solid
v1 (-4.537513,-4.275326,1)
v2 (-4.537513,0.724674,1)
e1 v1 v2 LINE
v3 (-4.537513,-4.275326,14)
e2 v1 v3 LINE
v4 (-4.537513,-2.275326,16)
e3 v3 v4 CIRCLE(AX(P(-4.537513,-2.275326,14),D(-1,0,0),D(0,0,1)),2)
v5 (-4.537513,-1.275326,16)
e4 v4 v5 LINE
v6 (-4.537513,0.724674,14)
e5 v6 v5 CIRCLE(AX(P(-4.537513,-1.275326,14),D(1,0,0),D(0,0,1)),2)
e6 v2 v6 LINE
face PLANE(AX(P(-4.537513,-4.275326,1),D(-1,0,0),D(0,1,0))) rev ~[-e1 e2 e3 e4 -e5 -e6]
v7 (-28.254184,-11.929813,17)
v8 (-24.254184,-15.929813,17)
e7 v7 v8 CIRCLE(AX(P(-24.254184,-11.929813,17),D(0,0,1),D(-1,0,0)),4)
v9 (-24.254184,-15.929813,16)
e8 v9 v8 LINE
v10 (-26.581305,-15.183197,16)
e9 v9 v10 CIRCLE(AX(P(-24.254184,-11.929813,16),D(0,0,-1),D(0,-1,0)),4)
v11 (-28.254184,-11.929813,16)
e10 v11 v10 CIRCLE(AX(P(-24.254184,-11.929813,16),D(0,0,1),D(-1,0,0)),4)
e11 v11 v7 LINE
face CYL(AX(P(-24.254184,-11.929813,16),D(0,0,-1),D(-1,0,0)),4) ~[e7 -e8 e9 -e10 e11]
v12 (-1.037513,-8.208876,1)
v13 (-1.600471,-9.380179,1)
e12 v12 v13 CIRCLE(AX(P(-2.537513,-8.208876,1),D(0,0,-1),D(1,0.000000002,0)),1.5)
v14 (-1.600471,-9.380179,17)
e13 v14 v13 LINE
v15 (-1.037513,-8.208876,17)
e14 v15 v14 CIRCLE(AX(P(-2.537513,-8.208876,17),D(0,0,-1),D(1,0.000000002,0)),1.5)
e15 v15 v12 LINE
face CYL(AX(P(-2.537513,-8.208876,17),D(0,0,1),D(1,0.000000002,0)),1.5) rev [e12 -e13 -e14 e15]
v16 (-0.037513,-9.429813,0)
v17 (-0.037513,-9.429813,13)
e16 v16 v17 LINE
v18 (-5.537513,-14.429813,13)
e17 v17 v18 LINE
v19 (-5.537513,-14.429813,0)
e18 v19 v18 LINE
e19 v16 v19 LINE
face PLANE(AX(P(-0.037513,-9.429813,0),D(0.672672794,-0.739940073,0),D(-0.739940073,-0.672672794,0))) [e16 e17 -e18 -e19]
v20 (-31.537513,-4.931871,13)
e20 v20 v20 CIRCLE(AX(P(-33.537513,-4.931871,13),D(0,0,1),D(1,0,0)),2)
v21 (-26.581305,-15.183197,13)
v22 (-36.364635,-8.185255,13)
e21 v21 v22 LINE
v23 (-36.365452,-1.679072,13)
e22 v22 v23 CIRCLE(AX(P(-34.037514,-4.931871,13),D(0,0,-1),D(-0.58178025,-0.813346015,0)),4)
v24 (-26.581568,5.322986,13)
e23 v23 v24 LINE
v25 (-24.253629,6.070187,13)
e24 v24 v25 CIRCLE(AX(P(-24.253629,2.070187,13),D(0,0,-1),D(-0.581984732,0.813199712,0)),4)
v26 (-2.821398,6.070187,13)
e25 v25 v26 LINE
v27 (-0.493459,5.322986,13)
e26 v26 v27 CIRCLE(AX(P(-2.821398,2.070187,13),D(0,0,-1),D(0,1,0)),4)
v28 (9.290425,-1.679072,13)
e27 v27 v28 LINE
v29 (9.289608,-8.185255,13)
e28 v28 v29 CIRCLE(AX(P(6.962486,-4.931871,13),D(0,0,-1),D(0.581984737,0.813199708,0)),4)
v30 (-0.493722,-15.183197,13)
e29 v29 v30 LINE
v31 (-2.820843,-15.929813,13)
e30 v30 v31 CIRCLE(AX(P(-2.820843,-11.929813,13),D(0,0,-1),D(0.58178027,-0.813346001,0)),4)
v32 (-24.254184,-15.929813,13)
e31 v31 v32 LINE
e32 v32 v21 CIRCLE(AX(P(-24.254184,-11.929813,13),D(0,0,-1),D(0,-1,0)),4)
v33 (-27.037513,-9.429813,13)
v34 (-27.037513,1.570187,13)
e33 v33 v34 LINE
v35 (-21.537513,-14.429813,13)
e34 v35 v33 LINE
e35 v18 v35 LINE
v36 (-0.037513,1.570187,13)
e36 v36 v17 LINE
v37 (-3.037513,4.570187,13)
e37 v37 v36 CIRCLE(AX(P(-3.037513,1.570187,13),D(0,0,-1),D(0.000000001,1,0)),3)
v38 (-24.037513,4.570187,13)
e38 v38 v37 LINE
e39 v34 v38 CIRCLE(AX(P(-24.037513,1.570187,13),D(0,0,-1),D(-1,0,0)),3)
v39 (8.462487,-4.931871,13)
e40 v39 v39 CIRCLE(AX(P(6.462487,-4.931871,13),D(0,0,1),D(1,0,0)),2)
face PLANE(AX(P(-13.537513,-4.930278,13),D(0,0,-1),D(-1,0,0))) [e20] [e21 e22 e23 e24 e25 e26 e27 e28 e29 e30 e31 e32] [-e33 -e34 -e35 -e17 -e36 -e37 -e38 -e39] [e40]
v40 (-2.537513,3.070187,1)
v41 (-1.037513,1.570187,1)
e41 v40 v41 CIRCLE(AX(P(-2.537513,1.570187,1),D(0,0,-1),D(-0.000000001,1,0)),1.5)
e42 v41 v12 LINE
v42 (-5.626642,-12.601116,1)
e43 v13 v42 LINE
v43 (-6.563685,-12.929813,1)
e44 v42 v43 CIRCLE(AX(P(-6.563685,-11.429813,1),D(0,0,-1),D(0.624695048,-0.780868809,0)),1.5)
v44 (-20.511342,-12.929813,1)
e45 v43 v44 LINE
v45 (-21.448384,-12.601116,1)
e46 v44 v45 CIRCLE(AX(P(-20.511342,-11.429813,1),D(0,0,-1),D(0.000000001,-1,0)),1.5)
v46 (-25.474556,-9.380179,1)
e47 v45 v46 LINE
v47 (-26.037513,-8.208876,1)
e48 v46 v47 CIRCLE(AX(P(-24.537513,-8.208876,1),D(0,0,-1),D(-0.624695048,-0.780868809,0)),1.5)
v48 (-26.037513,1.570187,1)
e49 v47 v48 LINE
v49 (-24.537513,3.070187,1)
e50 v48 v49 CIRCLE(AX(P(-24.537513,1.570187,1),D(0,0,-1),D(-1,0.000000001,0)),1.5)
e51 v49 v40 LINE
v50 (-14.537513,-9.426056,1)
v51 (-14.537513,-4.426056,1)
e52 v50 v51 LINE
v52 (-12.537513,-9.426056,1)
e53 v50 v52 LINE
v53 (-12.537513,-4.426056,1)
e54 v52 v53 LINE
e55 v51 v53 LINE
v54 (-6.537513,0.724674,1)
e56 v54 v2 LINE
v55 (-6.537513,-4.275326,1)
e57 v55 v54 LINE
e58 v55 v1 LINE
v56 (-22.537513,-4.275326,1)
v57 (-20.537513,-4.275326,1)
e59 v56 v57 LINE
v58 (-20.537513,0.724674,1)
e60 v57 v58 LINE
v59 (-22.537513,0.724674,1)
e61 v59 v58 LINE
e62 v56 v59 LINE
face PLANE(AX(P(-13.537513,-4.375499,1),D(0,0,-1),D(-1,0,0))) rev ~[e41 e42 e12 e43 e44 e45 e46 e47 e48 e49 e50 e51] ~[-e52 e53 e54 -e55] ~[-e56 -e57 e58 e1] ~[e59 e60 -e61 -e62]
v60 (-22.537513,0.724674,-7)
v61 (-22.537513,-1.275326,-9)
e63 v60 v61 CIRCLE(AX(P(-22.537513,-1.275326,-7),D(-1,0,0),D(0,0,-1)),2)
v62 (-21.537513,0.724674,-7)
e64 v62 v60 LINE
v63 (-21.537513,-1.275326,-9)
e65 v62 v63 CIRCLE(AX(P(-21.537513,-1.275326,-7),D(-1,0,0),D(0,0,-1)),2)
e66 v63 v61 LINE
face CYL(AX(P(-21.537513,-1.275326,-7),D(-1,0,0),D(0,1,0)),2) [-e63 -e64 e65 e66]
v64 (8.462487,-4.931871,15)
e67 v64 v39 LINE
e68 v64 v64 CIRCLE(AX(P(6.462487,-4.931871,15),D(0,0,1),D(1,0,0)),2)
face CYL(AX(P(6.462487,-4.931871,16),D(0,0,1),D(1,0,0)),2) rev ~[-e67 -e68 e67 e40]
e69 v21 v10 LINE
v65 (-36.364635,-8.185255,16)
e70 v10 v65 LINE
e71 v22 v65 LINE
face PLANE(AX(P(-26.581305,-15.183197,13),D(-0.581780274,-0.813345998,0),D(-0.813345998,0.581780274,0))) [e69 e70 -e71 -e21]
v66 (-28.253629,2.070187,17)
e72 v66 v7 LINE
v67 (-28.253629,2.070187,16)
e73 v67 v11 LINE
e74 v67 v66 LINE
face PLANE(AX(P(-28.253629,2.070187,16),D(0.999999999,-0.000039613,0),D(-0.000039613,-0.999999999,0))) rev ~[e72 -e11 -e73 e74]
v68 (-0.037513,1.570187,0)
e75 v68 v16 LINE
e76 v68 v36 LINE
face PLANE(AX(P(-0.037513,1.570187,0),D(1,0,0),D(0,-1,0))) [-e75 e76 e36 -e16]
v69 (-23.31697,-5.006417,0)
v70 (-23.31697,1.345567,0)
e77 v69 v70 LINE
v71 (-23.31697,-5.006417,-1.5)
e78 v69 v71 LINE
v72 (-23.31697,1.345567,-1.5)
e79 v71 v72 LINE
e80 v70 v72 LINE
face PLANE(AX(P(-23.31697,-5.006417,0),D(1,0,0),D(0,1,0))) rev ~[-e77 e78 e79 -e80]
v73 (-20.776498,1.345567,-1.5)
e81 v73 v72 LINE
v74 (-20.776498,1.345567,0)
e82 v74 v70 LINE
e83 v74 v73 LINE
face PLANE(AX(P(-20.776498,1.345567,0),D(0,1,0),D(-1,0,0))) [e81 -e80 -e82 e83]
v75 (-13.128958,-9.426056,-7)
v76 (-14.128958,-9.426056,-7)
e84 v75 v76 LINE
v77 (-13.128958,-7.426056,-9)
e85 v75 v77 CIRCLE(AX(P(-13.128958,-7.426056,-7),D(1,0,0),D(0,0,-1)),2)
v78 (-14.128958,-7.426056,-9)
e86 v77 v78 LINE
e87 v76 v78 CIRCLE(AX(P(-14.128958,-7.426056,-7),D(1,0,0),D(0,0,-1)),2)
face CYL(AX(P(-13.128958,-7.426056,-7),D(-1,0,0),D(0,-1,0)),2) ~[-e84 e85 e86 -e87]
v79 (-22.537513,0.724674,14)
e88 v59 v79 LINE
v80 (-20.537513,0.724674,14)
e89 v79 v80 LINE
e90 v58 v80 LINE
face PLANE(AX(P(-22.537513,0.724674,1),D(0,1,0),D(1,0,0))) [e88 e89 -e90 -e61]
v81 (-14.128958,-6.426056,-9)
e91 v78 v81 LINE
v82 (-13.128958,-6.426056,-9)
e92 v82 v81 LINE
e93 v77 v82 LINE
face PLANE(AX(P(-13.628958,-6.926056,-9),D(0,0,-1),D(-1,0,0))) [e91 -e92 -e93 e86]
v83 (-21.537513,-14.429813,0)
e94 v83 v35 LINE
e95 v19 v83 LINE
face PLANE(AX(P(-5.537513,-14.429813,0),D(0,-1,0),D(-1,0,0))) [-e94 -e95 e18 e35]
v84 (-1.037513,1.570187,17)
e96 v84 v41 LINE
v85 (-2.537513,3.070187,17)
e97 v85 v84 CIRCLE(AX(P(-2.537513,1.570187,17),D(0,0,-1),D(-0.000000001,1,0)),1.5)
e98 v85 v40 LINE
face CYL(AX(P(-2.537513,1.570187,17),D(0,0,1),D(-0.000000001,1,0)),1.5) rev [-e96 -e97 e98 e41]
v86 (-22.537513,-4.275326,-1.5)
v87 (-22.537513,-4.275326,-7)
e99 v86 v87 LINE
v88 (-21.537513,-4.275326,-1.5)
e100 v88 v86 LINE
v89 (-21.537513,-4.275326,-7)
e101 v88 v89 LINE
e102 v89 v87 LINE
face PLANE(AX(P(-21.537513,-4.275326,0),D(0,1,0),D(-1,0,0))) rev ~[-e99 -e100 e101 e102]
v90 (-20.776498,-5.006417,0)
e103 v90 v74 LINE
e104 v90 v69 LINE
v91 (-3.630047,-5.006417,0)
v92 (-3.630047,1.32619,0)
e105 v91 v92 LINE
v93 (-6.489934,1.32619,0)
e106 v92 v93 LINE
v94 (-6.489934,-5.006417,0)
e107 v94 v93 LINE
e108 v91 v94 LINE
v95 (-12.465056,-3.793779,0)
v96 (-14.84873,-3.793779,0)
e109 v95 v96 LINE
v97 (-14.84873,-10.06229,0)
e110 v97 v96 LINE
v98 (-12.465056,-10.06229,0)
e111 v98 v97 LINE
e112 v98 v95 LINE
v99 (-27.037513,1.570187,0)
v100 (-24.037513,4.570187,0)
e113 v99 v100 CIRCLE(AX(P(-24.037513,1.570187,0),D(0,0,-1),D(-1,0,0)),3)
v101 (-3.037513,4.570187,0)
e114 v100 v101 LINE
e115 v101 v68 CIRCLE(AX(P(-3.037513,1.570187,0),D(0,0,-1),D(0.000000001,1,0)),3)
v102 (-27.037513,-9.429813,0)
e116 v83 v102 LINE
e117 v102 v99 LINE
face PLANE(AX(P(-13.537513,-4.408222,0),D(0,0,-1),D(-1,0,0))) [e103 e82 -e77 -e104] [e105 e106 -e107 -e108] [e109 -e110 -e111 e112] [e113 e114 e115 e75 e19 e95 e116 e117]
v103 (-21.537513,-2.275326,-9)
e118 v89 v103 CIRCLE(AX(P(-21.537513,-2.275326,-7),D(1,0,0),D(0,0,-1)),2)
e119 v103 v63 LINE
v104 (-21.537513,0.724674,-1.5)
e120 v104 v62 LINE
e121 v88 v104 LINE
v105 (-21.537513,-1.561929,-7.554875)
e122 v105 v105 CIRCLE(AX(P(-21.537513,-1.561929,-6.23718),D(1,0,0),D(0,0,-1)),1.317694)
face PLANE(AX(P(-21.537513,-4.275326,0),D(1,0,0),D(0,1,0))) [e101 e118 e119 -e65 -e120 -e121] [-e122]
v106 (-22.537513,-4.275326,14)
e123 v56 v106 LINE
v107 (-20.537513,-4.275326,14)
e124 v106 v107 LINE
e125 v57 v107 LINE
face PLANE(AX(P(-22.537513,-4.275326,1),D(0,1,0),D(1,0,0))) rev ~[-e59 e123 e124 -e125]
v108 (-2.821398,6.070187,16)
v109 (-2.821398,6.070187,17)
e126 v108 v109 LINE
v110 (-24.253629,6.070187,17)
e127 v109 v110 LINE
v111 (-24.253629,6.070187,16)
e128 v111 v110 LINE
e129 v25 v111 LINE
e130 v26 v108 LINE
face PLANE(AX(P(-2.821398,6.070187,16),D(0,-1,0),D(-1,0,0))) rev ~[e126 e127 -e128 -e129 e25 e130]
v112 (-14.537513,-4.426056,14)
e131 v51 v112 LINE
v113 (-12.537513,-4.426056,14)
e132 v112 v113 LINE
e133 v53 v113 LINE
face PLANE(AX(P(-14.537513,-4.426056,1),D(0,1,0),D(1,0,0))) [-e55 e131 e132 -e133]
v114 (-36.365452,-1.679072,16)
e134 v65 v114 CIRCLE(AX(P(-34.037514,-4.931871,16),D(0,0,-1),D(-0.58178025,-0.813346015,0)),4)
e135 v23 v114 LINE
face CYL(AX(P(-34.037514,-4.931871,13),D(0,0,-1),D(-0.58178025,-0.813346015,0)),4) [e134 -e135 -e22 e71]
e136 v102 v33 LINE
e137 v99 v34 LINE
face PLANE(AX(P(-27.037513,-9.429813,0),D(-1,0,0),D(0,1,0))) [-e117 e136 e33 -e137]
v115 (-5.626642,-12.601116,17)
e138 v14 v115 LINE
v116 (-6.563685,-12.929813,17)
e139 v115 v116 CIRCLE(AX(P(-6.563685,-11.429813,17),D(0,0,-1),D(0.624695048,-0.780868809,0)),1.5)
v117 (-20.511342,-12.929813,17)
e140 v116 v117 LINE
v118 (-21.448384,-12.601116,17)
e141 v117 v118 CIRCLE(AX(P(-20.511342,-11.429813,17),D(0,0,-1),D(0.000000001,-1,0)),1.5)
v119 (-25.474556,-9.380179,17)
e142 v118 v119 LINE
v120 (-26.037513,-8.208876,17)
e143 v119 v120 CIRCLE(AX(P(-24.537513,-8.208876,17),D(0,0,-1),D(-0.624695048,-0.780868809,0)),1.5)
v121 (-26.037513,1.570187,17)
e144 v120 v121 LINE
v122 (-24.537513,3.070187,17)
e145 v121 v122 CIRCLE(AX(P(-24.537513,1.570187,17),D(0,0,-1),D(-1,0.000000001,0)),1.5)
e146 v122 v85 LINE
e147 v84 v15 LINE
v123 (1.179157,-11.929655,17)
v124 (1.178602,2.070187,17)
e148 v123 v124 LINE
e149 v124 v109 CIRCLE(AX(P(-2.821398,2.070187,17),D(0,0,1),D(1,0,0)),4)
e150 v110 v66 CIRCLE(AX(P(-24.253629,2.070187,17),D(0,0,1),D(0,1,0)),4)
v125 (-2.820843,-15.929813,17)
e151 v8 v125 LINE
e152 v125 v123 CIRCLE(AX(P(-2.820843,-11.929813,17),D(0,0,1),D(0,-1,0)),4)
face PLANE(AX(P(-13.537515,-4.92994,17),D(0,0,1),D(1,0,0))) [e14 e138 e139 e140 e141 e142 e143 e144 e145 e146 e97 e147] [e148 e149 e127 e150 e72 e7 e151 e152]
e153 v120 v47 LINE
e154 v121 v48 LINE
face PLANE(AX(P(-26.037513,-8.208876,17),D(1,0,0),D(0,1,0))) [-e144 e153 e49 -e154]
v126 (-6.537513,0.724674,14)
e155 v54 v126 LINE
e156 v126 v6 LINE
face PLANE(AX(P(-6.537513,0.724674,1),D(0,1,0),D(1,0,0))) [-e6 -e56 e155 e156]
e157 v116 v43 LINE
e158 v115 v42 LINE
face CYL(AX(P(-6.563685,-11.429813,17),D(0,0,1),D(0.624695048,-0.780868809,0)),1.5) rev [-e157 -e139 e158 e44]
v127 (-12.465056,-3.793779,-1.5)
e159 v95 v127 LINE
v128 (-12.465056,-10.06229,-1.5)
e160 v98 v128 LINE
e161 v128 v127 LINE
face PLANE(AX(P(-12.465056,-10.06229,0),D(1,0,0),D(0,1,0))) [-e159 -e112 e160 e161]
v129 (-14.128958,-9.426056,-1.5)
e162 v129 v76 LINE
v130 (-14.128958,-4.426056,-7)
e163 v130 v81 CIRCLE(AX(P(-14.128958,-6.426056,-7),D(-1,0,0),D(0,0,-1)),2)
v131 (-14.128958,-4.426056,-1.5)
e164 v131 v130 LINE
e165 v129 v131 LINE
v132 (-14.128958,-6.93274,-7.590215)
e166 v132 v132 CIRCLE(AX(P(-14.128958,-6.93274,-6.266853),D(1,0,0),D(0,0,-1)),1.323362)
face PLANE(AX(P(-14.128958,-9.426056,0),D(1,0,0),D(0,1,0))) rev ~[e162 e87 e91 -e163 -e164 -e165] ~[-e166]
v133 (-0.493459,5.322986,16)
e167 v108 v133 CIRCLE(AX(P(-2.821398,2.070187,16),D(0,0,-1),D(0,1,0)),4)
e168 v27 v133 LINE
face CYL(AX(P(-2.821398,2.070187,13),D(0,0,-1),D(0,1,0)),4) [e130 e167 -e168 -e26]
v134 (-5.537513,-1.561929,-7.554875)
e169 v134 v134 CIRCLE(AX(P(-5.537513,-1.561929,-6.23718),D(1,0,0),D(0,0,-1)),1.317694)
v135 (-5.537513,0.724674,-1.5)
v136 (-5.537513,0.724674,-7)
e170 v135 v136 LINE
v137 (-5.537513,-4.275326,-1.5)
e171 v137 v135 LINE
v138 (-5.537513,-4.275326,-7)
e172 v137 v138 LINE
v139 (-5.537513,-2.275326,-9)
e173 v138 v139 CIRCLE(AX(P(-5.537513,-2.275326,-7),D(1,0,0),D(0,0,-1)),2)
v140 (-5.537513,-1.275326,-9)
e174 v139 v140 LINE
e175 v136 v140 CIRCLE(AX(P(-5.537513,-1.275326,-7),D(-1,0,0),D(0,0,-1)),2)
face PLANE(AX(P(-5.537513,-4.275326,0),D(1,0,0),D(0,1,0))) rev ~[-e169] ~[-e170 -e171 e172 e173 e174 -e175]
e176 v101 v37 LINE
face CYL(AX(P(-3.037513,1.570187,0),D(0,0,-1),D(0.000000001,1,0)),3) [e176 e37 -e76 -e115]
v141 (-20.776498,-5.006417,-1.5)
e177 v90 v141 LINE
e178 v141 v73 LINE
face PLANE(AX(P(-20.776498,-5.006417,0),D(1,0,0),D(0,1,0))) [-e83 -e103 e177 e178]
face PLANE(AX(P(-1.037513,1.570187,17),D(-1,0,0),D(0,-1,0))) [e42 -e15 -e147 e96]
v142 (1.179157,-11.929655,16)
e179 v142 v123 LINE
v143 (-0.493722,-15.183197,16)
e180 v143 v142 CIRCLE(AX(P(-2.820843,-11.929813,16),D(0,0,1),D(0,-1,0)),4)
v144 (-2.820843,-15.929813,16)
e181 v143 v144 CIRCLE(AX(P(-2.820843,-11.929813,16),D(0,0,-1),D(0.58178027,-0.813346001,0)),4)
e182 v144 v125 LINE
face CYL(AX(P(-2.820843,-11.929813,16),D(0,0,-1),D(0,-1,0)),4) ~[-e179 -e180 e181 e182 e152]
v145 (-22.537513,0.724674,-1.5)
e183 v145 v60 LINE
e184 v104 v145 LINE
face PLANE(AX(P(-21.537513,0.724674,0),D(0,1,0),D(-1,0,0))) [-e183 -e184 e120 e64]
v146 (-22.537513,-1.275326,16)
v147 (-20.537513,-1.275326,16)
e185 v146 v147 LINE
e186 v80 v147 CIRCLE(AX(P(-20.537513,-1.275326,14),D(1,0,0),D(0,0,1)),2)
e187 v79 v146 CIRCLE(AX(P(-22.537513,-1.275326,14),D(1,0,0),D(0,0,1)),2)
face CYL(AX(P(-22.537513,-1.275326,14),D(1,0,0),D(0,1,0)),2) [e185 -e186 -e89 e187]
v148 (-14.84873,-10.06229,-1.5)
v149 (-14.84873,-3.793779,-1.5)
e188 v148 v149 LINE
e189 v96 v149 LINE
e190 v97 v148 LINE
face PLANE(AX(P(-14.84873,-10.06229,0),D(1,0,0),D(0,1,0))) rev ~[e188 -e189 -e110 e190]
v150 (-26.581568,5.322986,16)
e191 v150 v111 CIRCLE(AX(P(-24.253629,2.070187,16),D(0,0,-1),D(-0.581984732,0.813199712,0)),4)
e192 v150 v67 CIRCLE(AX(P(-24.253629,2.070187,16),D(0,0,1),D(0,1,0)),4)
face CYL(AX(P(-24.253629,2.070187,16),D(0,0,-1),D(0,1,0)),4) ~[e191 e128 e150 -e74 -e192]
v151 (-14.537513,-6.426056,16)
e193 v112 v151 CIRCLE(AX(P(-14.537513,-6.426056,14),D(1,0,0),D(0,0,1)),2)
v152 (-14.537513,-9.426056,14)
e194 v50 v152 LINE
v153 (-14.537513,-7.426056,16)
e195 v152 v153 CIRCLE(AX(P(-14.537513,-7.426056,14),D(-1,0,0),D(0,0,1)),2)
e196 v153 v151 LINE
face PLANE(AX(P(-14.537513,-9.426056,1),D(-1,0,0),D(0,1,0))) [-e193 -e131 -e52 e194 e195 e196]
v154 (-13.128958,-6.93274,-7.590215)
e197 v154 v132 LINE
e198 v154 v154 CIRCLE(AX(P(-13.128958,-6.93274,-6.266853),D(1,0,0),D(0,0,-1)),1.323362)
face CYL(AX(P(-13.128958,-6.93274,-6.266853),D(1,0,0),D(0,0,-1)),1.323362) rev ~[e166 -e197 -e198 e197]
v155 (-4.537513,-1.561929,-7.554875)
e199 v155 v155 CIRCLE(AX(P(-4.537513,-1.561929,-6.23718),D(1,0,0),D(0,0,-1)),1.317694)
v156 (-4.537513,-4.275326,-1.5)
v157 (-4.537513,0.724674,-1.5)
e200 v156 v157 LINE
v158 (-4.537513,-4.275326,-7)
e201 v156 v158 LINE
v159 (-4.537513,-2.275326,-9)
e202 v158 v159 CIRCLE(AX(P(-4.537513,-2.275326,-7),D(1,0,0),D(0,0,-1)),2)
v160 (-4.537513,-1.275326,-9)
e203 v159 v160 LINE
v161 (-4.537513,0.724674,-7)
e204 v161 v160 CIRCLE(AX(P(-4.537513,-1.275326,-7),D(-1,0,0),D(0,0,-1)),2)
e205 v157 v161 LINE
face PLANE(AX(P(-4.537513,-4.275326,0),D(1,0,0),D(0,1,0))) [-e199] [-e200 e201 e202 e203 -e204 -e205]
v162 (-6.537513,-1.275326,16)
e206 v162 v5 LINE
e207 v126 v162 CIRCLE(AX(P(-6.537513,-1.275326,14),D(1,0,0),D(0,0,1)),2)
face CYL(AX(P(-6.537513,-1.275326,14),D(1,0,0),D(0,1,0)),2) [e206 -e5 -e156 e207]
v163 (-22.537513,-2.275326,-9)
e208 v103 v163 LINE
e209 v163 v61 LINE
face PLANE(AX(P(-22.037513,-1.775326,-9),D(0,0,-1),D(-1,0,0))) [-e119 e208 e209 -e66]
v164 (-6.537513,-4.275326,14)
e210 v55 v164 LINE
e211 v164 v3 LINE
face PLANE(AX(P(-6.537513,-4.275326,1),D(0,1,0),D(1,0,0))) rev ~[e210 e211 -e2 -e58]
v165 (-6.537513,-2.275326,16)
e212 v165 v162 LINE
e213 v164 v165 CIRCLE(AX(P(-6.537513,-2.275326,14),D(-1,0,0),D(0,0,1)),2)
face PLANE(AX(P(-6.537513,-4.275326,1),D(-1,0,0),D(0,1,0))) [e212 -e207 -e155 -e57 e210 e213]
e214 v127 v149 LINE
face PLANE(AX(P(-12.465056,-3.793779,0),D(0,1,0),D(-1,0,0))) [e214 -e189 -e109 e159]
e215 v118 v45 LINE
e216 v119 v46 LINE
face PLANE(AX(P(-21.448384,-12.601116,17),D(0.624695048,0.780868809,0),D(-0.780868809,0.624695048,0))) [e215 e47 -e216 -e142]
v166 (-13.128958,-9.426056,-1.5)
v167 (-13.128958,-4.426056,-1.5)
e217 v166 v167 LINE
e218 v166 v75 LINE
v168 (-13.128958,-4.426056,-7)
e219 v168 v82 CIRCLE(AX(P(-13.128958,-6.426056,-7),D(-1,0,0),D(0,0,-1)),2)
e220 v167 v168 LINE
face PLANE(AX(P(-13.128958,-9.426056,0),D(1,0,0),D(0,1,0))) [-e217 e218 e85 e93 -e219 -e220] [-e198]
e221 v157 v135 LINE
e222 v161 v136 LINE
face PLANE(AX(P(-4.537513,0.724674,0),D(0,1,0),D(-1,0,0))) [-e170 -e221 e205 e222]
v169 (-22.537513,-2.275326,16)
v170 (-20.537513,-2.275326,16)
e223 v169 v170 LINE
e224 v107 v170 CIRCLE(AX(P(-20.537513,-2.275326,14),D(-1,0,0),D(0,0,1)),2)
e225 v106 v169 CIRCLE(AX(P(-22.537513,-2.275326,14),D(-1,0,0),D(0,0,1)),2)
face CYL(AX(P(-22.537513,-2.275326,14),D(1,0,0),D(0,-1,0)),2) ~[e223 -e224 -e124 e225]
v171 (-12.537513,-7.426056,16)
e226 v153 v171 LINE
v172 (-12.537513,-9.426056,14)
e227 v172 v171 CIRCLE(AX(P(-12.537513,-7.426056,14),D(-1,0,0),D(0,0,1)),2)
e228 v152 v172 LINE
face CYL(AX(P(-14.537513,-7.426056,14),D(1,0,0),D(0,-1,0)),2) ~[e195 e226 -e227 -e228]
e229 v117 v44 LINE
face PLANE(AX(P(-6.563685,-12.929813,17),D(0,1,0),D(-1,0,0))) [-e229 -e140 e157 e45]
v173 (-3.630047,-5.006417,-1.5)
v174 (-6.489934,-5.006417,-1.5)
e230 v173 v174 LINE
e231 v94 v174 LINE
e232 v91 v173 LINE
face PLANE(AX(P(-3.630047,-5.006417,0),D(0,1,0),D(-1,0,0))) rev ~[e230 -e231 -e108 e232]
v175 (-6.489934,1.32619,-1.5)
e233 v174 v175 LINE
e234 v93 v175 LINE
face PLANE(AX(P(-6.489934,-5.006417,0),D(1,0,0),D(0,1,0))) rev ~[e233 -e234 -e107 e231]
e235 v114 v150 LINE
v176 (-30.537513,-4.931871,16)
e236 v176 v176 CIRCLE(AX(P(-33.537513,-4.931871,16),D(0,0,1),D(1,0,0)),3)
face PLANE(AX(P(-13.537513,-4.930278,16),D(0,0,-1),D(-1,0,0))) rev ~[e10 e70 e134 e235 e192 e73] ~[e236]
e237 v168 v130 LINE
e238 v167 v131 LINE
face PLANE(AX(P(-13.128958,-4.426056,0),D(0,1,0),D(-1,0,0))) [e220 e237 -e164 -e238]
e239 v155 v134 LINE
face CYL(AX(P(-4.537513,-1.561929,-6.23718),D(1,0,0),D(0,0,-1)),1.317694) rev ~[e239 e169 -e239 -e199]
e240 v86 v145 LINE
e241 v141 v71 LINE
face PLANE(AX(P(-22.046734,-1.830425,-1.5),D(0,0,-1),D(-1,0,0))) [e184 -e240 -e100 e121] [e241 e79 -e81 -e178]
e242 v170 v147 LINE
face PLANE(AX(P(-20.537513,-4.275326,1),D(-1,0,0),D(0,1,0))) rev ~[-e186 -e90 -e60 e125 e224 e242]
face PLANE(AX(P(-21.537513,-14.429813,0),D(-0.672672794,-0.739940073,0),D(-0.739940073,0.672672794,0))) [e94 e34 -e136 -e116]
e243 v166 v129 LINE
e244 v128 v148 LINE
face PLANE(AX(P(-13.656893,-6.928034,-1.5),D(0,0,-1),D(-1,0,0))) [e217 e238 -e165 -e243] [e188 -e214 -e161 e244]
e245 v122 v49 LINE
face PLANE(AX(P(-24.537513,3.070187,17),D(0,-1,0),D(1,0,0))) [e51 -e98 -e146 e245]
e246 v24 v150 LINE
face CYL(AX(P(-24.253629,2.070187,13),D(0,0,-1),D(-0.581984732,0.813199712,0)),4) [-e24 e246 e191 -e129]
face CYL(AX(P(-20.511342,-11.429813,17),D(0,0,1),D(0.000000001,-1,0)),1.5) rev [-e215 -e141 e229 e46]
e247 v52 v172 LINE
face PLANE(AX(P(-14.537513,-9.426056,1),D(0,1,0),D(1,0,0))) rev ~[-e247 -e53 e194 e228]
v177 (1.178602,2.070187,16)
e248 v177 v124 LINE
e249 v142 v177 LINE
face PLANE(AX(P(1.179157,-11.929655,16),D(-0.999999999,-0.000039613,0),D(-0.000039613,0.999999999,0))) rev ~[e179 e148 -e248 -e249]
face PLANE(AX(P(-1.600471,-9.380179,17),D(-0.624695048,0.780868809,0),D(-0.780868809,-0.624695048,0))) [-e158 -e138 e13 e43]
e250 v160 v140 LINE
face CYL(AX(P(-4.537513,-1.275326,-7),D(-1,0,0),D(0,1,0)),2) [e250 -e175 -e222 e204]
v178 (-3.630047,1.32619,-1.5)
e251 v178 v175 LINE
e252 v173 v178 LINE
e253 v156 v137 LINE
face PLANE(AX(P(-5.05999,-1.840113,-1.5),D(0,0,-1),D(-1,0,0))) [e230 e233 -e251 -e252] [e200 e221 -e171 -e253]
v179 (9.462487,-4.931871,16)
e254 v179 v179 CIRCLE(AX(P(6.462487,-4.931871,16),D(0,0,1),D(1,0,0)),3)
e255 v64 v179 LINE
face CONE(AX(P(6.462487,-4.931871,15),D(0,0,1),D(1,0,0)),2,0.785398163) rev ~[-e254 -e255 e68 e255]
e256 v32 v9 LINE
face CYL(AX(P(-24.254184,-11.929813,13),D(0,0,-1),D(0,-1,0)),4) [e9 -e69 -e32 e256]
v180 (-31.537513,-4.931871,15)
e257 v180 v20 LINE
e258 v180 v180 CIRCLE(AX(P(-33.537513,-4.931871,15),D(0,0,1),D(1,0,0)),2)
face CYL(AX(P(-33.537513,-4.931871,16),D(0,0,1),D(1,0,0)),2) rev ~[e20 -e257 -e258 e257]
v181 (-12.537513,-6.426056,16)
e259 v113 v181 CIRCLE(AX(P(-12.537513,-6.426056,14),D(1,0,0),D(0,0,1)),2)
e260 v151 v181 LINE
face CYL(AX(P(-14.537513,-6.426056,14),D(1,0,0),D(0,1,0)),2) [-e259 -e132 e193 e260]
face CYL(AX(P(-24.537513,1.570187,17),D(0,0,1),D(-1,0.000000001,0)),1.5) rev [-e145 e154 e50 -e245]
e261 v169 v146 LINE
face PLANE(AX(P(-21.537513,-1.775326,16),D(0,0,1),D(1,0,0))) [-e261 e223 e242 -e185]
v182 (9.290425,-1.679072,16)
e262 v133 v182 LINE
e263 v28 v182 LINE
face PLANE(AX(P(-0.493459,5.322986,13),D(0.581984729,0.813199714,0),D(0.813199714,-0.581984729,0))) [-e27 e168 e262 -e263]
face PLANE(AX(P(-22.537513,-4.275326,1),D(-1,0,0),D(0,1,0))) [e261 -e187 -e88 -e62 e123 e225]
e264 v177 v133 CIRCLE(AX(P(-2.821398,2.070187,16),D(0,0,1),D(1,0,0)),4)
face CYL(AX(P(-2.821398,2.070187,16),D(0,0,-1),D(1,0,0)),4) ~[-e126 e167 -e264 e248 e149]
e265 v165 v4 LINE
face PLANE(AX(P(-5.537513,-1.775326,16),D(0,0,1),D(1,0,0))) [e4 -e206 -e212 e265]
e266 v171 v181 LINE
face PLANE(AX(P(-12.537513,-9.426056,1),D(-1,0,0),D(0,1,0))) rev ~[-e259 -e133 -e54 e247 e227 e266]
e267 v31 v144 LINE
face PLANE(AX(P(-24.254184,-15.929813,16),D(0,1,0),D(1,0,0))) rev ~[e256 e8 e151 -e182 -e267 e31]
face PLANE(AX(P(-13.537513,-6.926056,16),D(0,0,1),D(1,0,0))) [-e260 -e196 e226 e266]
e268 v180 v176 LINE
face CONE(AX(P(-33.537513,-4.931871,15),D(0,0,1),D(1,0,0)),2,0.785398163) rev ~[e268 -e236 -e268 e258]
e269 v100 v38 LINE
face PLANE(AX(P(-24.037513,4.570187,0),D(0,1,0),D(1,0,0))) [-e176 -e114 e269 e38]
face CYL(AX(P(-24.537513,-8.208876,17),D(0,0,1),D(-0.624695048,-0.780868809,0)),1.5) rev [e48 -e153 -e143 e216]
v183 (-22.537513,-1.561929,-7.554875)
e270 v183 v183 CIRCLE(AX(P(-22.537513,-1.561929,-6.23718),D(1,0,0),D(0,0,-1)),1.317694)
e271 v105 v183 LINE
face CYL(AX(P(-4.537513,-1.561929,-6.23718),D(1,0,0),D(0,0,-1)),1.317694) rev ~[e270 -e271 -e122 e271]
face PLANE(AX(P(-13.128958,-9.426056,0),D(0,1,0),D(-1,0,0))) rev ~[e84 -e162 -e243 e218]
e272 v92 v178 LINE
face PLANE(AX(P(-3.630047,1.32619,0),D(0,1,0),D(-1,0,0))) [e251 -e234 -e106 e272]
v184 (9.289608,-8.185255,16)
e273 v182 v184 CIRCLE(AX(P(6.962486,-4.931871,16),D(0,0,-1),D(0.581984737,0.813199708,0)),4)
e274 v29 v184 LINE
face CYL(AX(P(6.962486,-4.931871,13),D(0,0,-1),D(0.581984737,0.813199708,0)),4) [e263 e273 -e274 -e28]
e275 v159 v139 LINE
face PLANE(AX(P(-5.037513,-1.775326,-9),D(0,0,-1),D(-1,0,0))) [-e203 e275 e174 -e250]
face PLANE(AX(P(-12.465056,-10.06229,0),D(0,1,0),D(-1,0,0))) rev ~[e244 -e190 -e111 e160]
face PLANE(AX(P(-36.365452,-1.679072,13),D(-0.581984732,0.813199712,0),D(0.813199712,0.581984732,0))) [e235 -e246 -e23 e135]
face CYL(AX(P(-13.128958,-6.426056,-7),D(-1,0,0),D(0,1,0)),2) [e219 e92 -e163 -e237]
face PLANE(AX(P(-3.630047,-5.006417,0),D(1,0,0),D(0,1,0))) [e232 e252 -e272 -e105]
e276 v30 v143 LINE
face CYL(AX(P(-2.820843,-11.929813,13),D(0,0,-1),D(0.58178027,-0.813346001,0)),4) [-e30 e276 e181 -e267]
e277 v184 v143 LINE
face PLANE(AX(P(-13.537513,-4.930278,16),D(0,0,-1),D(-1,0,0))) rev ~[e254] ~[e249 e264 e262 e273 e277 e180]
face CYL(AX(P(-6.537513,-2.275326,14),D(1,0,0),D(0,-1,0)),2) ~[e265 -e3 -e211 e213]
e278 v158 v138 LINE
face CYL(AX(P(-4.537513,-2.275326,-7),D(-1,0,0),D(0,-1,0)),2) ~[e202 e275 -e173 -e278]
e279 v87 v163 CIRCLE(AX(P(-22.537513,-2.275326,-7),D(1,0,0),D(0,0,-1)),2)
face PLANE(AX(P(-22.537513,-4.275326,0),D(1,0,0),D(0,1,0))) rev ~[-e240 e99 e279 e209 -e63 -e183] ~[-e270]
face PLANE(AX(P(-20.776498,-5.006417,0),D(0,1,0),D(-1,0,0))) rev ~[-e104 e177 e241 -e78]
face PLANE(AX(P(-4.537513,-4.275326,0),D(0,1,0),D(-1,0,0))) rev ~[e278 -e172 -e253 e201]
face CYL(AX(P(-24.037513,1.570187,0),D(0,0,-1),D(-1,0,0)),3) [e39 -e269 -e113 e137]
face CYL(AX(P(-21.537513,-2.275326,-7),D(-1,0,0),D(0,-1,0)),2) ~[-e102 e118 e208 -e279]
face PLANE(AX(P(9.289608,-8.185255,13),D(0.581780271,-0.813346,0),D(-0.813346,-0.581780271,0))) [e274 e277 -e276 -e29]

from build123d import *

# Parameters (mm, degrees)
EXTRUDE_1_DEPTH     = 13
EXTRUDE_2_DEPTH     = 3
EXTRUDE_3_DEPTH     = 1
CUT_EXTRUDE_1_DEPTH = 16
SKETCH_5_W          = 2
SKETCH_5_H          = 5
EXTRUDE_4_DEPTH     = 15
FILLET_1_R          = 2
SKETCH_6_W          = 1.000000004
SKETCH_6_H          = 5
SKETCH_6_W_2        = 0.999999996
SKETCH_6_W_3        = 1
EXTRUDE_5_DEPTH     = 9
SKETCH_7_W          = 2.859887346
SKETCH_7_H          = 6.332607693
SKETCH_7_W_2        = 2.383674024
SKETCH_7_H_2        = 6.268510199
SKETCH_7_W_3        = 2.540472095
SKETCH_7_H_3        = 6.351983774
EXTRUDE_7_DEPTH     = 1.5
SKETCH_8_R          = 1.317694444
CUT_EXTRUDE_2_DEPTH = 21.5
SKETCH_9_R          = 1.323361973
CUT_EXTRUDE_3_DEPTH = 3.5
FILLET_2_R          = 2
SKETCH_10_R         = 2
CUT_EXTRUDE_4_DEPTH = 3.5
SKETCH_11_R         = 2
CUT_EXTRUDE_5_DEPTH = 3.5
CHAMFER_1_SIZE      = 1


with BuildPart() as part:
    # Эскиз1 → Бобышка-Вытянуть1 (new body)
    with BuildSketch(Plane.XY):
        with BuildLine():
            Line((-24.03751348, 4.570186882), (-3.03751348, 4.570186882))
            ThreePointArc((-3.03751348, 4.570186882), (-0.916193137, 3.691507225), (-0.03751348, 1.570186882))
            Line((-0.03751348, 1.570186882), (-0.03751348, -9.429813118))
            Line((-0.03751348, -9.429813118), (-5.53751348, -14.429813118))
            Line((-5.53751348, -14.429813118), (-21.53751348, -14.429813118))
            Line((-21.53751348, -14.429813118), (-27.03751348, -9.429813118))
            Line((-27.03751348, -9.429813118), (-27.03751348, 1.570186882))
            ThreePointArc((-27.03751348, 1.570186882), (-26.158833824, 3.691507225), (-24.03751348, 4.570186882))
        make_face()
    extrude(amount=EXTRUDE_1_DEPTH)

    # Эскиз2 → Бобышка-Вытянуть2 (add)
    with BuildSketch(Plane.XY.offset(13)):
        with BuildLine():
            Line((-24.253629022, 6.070186882), (-2.821397929, 6.070186882))
            ThreePointArc((-2.821397929, 6.070186882), (-1.598940451, 5.87880838), (-0.493459013, 5.322985739))
            Line((-0.493459013, 5.322985739), (9.290425441, -1.679071989))
            ThreePointArc((9.290425441, -1.679071989), (10.962486488, -4.932373697), (9.289607579, -8.185254927))
            Line((9.289607579, -8.185254927), (-0.493722264, -15.183197119))
            ThreePointArc((-0.493722264, -15.183197119), (-1.598864627, -15.738588249), (-2.820843349, -15.929813118))
            Line((-2.820843349, -15.929813118), (-24.254183602, -15.929813118))
            ThreePointArc((-24.254183602, -15.929813118), (-25.476162332, -15.738588247), (-26.5813047, -15.183197109))
            Line((-26.5813047, -15.183197109), (-36.364634505, -8.185254887))
            ThreePointArc((-36.364634505, -8.185254887), (-38.037513448, -4.932373739), (-36.365452436, -1.679072079))
            Line((-36.365452436, -1.679072079), (-26.581567951, 5.322985729))
            ThreePointArc((-26.581567951, 5.322985729), (-25.476086508, 5.878808377), (-24.253629022, 6.070186882))
        make_face()
    extrude(amount=EXTRUDE_2_DEPTH)

    # Эскиз3 → Бобышка-Вытянуть3 (add)
    with BuildSketch(Plane.XY.offset(16)):
        with BuildLine():
            Line((-24.254183602, -15.929813118), (-2.820843349, -15.929813118))
            ThreePointArc((-2.820843349, -15.929813118), (0.007639796, -14.758184221), (1.179156647, -11.929654667))
            Line((1.179156647, -11.929654667), (1.178602071, 2.070186882))
            ThreePointArc((1.178602071, 2.070186882), (0.007029196, 4.898614007), (-2.821397929, 6.070186882))
            Line((-2.821397929, 6.070186882), (-24.253629022, 6.070186882))
            ThreePointArc((-24.253629022, 6.070186882), (-27.082056147, 4.898614007), (-28.253629022, 2.070186882))
            Line((-28.253629022, 2.070186882), (-28.254183602, -11.929813118))
            ThreePointArc((-28.254183602, -11.929813118), (-27.082610727, -14.758240243), (-24.254183602, -15.929813118))
        make_face()
    extrude(amount=EXTRUDE_3_DEPTH)

    # Эскиз4 → Вырез-Вытянуть1 (cut)
    with BuildSketch(Plane.XY.offset(17)):
        with BuildLine():
            Line((-24.537513476, 3.070186882), (-2.537513476, 3.070186882))
            ThreePointArc((-2.537513476, 3.070186882), (-1.476853304, 2.630847054), (-1.037513476, 1.570186882))
            Line((-1.037513476, 1.570186882), (-1.037513476, -8.208875847))
            ThreePointArc((-1.037513476, -8.208875847), (-1.185558621, -8.858658943), (-1.600470904, -9.380179061))
            Line((-1.600470904, -9.380179061), (-5.626642493, -12.601116332))
            ThreePointArc((-5.626642493, -12.601116332), (-6.067174653, -12.845255597), (-6.563685065, -12.929813118))
            Line((-6.563685065, -12.929813118), (-20.511341887, -12.929813118))
            ThreePointArc((-20.511341887, -12.929813118), (-21.007852299, -12.845255597), (-21.448384458, -12.601116332))
            Line((-21.448384458, -12.601116332), (-25.474556047, -9.380179061))
            ThreePointArc((-25.474556047, -9.380179061), (-25.88946833, -8.858658943), (-26.037513476, -8.208875847))
            Line((-26.037513476, -8.208875847), (-26.037513476, 1.570186882))
            ThreePointArc((-26.037513476, 1.570186882), (-25.598173647, 2.630847054), (-24.537513476, 3.070186882))
        make_face()
    extrude(amount=-CUT_EXTRUDE_1_DEPTH, mode=Mode.SUBTRACT)

    # Эскиз5 → Бобышка-Вытянуть4 (add)
    with BuildSketch(Plane.XY.offset(1)):
        with Locations((-21.537513476, -1.775325657)):
            Rectangle(SKETCH_5_W, SKETCH_5_H)
        with Locations((-13.537513476, -6.926056238)):
            Rectangle(SKETCH_5_W, SKETCH_5_H)
        with Locations((-5.537513476, -1.775325657)):
            Rectangle(SKETCH_5_W, SKETCH_5_H)
    extrude(amount=EXTRUDE_4_DEPTH)

    # Скругление1
    fillet_1_edges = [part.edges().sort_by_distance(p)[0] for p in [
        (-21.537513476, -4.275325657, 16),
        (-21.537513476, 0.724674343, 16),
        (-13.537513476, -9.426056238, 16),
        (-13.537513476, -4.426056238, 16),
        (-5.537513476, -4.275325657, 16),
        (-5.537513476, 0.724674343, 16),
    ]]
    fillet(fillet_1_edges, radius=FILLET_1_R)

    # Эскиз6 → Бобышка-Вытянуть5 (add)
    with BuildSketch(Plane(origin=(0, 0, 0), x_dir=(-1, 0, 0), z_dir=(0, 0, -1))):
        with Locations((5.037513478, -1.775325657)):
            Rectangle(SKETCH_6_W, SKETCH_6_H)
        with Locations((22.037513478, -1.775325657)):
            Rectangle(SKETCH_6_W_2, SKETCH_6_H)
        with Locations((13.628958145, -6.926056238)):
            Rectangle(SKETCH_6_W_3, SKETCH_6_H)
    extrude(amount=EXTRUDE_5_DEPTH)

    # Эскиз7 → Бобышка-Вытянуть7 (add)
    with BuildSketch(Plane(origin=(0, 0, 0), x_dir=(-1, 0, 0), z_dir=(0, 0, -1))):
        with Locations((5.059990277, -1.840113397)):
            Rectangle(SKETCH_7_W, SKETCH_7_H)
        with Locations((13.656892737, -6.928034415)):
            Rectangle(SKETCH_7_W_2, SKETCH_7_H_2)
        with Locations((22.046734018, -1.830425356)):
            Rectangle(SKETCH_7_W_3, SKETCH_7_H_3)
    extrude(amount=EXTRUDE_7_DEPTH)

    # Эскиз8 → Вырез-Вытянуть2 (cut)
    with BuildSketch(Plane(origin=(-4.537513476, 0, 0), x_dir=(0, 0, -1), z_dir=(1, 0, 0))):
        with Locations((6.23718035, -1.561929148)):
            Circle(SKETCH_8_R)
    extrude(amount=-CUT_EXTRUDE_2_DEPTH, mode=Mode.SUBTRACT)

    # Эскиз9 → Вырез-Вытянуть3 (cut)
    with BuildSketch(Plane(origin=(-13.128958145, 0, 0), x_dir=(0, 0, -1), z_dir=(1, 0, 0))):
        with Locations((6.266853337, -6.932739708)):
            Circle(SKETCH_9_R)
    extrude(amount=-CUT_EXTRUDE_3_DEPTH, mode=Mode.SUBTRACT)

    # Скругление2
    fillet_2_edges = [part.edges().sort_by_distance(p)[0] for p in [
        (-5.037513478, -4.275325657, -9),
        (-5.037513478, 0.724674343, -9),
        (-22.037513478, 0.724674343, -9),
        (-22.037513478, -4.275325657, -9),
        (-13.628958145, -9.426056238, -9),
        (-13.628958145, -4.426056238, -9),
    ]]
    fillet(fillet_2_edges, radius=FILLET_2_R)

    # Эскиз10 → Вырез-Вытянуть4 (cut)
    with BuildSketch(Plane.XY.offset(16)):
        with Locations((6.462486524, -4.931870875)):
            Circle(SKETCH_10_R)
    extrude(amount=-CUT_EXTRUDE_4_DEPTH, mode=Mode.SUBTRACT)

    # Эскиз11 → Вырез-Вытянуть5 (cut)
    with BuildSketch(Plane.XY.offset(16)):
        with Locations((-33.537513476, -4.931870875)):
            Circle(SKETCH_11_R)
    extrude(amount=-CUT_EXTRUDE_5_DEPTH, mode=Mode.SUBTRACT)

    # Фаска1
    chamfer_1_edges = [part.edges().sort_by_distance(p)[0] for p in [
        (4.462486524, -4.931870875, 16),
        (-35.537513476, -4.931870875, 16),
    ]]
    chamfer(chamfer_1_edges, length=CHAMFER_1_SIZE)


solid = part.part
